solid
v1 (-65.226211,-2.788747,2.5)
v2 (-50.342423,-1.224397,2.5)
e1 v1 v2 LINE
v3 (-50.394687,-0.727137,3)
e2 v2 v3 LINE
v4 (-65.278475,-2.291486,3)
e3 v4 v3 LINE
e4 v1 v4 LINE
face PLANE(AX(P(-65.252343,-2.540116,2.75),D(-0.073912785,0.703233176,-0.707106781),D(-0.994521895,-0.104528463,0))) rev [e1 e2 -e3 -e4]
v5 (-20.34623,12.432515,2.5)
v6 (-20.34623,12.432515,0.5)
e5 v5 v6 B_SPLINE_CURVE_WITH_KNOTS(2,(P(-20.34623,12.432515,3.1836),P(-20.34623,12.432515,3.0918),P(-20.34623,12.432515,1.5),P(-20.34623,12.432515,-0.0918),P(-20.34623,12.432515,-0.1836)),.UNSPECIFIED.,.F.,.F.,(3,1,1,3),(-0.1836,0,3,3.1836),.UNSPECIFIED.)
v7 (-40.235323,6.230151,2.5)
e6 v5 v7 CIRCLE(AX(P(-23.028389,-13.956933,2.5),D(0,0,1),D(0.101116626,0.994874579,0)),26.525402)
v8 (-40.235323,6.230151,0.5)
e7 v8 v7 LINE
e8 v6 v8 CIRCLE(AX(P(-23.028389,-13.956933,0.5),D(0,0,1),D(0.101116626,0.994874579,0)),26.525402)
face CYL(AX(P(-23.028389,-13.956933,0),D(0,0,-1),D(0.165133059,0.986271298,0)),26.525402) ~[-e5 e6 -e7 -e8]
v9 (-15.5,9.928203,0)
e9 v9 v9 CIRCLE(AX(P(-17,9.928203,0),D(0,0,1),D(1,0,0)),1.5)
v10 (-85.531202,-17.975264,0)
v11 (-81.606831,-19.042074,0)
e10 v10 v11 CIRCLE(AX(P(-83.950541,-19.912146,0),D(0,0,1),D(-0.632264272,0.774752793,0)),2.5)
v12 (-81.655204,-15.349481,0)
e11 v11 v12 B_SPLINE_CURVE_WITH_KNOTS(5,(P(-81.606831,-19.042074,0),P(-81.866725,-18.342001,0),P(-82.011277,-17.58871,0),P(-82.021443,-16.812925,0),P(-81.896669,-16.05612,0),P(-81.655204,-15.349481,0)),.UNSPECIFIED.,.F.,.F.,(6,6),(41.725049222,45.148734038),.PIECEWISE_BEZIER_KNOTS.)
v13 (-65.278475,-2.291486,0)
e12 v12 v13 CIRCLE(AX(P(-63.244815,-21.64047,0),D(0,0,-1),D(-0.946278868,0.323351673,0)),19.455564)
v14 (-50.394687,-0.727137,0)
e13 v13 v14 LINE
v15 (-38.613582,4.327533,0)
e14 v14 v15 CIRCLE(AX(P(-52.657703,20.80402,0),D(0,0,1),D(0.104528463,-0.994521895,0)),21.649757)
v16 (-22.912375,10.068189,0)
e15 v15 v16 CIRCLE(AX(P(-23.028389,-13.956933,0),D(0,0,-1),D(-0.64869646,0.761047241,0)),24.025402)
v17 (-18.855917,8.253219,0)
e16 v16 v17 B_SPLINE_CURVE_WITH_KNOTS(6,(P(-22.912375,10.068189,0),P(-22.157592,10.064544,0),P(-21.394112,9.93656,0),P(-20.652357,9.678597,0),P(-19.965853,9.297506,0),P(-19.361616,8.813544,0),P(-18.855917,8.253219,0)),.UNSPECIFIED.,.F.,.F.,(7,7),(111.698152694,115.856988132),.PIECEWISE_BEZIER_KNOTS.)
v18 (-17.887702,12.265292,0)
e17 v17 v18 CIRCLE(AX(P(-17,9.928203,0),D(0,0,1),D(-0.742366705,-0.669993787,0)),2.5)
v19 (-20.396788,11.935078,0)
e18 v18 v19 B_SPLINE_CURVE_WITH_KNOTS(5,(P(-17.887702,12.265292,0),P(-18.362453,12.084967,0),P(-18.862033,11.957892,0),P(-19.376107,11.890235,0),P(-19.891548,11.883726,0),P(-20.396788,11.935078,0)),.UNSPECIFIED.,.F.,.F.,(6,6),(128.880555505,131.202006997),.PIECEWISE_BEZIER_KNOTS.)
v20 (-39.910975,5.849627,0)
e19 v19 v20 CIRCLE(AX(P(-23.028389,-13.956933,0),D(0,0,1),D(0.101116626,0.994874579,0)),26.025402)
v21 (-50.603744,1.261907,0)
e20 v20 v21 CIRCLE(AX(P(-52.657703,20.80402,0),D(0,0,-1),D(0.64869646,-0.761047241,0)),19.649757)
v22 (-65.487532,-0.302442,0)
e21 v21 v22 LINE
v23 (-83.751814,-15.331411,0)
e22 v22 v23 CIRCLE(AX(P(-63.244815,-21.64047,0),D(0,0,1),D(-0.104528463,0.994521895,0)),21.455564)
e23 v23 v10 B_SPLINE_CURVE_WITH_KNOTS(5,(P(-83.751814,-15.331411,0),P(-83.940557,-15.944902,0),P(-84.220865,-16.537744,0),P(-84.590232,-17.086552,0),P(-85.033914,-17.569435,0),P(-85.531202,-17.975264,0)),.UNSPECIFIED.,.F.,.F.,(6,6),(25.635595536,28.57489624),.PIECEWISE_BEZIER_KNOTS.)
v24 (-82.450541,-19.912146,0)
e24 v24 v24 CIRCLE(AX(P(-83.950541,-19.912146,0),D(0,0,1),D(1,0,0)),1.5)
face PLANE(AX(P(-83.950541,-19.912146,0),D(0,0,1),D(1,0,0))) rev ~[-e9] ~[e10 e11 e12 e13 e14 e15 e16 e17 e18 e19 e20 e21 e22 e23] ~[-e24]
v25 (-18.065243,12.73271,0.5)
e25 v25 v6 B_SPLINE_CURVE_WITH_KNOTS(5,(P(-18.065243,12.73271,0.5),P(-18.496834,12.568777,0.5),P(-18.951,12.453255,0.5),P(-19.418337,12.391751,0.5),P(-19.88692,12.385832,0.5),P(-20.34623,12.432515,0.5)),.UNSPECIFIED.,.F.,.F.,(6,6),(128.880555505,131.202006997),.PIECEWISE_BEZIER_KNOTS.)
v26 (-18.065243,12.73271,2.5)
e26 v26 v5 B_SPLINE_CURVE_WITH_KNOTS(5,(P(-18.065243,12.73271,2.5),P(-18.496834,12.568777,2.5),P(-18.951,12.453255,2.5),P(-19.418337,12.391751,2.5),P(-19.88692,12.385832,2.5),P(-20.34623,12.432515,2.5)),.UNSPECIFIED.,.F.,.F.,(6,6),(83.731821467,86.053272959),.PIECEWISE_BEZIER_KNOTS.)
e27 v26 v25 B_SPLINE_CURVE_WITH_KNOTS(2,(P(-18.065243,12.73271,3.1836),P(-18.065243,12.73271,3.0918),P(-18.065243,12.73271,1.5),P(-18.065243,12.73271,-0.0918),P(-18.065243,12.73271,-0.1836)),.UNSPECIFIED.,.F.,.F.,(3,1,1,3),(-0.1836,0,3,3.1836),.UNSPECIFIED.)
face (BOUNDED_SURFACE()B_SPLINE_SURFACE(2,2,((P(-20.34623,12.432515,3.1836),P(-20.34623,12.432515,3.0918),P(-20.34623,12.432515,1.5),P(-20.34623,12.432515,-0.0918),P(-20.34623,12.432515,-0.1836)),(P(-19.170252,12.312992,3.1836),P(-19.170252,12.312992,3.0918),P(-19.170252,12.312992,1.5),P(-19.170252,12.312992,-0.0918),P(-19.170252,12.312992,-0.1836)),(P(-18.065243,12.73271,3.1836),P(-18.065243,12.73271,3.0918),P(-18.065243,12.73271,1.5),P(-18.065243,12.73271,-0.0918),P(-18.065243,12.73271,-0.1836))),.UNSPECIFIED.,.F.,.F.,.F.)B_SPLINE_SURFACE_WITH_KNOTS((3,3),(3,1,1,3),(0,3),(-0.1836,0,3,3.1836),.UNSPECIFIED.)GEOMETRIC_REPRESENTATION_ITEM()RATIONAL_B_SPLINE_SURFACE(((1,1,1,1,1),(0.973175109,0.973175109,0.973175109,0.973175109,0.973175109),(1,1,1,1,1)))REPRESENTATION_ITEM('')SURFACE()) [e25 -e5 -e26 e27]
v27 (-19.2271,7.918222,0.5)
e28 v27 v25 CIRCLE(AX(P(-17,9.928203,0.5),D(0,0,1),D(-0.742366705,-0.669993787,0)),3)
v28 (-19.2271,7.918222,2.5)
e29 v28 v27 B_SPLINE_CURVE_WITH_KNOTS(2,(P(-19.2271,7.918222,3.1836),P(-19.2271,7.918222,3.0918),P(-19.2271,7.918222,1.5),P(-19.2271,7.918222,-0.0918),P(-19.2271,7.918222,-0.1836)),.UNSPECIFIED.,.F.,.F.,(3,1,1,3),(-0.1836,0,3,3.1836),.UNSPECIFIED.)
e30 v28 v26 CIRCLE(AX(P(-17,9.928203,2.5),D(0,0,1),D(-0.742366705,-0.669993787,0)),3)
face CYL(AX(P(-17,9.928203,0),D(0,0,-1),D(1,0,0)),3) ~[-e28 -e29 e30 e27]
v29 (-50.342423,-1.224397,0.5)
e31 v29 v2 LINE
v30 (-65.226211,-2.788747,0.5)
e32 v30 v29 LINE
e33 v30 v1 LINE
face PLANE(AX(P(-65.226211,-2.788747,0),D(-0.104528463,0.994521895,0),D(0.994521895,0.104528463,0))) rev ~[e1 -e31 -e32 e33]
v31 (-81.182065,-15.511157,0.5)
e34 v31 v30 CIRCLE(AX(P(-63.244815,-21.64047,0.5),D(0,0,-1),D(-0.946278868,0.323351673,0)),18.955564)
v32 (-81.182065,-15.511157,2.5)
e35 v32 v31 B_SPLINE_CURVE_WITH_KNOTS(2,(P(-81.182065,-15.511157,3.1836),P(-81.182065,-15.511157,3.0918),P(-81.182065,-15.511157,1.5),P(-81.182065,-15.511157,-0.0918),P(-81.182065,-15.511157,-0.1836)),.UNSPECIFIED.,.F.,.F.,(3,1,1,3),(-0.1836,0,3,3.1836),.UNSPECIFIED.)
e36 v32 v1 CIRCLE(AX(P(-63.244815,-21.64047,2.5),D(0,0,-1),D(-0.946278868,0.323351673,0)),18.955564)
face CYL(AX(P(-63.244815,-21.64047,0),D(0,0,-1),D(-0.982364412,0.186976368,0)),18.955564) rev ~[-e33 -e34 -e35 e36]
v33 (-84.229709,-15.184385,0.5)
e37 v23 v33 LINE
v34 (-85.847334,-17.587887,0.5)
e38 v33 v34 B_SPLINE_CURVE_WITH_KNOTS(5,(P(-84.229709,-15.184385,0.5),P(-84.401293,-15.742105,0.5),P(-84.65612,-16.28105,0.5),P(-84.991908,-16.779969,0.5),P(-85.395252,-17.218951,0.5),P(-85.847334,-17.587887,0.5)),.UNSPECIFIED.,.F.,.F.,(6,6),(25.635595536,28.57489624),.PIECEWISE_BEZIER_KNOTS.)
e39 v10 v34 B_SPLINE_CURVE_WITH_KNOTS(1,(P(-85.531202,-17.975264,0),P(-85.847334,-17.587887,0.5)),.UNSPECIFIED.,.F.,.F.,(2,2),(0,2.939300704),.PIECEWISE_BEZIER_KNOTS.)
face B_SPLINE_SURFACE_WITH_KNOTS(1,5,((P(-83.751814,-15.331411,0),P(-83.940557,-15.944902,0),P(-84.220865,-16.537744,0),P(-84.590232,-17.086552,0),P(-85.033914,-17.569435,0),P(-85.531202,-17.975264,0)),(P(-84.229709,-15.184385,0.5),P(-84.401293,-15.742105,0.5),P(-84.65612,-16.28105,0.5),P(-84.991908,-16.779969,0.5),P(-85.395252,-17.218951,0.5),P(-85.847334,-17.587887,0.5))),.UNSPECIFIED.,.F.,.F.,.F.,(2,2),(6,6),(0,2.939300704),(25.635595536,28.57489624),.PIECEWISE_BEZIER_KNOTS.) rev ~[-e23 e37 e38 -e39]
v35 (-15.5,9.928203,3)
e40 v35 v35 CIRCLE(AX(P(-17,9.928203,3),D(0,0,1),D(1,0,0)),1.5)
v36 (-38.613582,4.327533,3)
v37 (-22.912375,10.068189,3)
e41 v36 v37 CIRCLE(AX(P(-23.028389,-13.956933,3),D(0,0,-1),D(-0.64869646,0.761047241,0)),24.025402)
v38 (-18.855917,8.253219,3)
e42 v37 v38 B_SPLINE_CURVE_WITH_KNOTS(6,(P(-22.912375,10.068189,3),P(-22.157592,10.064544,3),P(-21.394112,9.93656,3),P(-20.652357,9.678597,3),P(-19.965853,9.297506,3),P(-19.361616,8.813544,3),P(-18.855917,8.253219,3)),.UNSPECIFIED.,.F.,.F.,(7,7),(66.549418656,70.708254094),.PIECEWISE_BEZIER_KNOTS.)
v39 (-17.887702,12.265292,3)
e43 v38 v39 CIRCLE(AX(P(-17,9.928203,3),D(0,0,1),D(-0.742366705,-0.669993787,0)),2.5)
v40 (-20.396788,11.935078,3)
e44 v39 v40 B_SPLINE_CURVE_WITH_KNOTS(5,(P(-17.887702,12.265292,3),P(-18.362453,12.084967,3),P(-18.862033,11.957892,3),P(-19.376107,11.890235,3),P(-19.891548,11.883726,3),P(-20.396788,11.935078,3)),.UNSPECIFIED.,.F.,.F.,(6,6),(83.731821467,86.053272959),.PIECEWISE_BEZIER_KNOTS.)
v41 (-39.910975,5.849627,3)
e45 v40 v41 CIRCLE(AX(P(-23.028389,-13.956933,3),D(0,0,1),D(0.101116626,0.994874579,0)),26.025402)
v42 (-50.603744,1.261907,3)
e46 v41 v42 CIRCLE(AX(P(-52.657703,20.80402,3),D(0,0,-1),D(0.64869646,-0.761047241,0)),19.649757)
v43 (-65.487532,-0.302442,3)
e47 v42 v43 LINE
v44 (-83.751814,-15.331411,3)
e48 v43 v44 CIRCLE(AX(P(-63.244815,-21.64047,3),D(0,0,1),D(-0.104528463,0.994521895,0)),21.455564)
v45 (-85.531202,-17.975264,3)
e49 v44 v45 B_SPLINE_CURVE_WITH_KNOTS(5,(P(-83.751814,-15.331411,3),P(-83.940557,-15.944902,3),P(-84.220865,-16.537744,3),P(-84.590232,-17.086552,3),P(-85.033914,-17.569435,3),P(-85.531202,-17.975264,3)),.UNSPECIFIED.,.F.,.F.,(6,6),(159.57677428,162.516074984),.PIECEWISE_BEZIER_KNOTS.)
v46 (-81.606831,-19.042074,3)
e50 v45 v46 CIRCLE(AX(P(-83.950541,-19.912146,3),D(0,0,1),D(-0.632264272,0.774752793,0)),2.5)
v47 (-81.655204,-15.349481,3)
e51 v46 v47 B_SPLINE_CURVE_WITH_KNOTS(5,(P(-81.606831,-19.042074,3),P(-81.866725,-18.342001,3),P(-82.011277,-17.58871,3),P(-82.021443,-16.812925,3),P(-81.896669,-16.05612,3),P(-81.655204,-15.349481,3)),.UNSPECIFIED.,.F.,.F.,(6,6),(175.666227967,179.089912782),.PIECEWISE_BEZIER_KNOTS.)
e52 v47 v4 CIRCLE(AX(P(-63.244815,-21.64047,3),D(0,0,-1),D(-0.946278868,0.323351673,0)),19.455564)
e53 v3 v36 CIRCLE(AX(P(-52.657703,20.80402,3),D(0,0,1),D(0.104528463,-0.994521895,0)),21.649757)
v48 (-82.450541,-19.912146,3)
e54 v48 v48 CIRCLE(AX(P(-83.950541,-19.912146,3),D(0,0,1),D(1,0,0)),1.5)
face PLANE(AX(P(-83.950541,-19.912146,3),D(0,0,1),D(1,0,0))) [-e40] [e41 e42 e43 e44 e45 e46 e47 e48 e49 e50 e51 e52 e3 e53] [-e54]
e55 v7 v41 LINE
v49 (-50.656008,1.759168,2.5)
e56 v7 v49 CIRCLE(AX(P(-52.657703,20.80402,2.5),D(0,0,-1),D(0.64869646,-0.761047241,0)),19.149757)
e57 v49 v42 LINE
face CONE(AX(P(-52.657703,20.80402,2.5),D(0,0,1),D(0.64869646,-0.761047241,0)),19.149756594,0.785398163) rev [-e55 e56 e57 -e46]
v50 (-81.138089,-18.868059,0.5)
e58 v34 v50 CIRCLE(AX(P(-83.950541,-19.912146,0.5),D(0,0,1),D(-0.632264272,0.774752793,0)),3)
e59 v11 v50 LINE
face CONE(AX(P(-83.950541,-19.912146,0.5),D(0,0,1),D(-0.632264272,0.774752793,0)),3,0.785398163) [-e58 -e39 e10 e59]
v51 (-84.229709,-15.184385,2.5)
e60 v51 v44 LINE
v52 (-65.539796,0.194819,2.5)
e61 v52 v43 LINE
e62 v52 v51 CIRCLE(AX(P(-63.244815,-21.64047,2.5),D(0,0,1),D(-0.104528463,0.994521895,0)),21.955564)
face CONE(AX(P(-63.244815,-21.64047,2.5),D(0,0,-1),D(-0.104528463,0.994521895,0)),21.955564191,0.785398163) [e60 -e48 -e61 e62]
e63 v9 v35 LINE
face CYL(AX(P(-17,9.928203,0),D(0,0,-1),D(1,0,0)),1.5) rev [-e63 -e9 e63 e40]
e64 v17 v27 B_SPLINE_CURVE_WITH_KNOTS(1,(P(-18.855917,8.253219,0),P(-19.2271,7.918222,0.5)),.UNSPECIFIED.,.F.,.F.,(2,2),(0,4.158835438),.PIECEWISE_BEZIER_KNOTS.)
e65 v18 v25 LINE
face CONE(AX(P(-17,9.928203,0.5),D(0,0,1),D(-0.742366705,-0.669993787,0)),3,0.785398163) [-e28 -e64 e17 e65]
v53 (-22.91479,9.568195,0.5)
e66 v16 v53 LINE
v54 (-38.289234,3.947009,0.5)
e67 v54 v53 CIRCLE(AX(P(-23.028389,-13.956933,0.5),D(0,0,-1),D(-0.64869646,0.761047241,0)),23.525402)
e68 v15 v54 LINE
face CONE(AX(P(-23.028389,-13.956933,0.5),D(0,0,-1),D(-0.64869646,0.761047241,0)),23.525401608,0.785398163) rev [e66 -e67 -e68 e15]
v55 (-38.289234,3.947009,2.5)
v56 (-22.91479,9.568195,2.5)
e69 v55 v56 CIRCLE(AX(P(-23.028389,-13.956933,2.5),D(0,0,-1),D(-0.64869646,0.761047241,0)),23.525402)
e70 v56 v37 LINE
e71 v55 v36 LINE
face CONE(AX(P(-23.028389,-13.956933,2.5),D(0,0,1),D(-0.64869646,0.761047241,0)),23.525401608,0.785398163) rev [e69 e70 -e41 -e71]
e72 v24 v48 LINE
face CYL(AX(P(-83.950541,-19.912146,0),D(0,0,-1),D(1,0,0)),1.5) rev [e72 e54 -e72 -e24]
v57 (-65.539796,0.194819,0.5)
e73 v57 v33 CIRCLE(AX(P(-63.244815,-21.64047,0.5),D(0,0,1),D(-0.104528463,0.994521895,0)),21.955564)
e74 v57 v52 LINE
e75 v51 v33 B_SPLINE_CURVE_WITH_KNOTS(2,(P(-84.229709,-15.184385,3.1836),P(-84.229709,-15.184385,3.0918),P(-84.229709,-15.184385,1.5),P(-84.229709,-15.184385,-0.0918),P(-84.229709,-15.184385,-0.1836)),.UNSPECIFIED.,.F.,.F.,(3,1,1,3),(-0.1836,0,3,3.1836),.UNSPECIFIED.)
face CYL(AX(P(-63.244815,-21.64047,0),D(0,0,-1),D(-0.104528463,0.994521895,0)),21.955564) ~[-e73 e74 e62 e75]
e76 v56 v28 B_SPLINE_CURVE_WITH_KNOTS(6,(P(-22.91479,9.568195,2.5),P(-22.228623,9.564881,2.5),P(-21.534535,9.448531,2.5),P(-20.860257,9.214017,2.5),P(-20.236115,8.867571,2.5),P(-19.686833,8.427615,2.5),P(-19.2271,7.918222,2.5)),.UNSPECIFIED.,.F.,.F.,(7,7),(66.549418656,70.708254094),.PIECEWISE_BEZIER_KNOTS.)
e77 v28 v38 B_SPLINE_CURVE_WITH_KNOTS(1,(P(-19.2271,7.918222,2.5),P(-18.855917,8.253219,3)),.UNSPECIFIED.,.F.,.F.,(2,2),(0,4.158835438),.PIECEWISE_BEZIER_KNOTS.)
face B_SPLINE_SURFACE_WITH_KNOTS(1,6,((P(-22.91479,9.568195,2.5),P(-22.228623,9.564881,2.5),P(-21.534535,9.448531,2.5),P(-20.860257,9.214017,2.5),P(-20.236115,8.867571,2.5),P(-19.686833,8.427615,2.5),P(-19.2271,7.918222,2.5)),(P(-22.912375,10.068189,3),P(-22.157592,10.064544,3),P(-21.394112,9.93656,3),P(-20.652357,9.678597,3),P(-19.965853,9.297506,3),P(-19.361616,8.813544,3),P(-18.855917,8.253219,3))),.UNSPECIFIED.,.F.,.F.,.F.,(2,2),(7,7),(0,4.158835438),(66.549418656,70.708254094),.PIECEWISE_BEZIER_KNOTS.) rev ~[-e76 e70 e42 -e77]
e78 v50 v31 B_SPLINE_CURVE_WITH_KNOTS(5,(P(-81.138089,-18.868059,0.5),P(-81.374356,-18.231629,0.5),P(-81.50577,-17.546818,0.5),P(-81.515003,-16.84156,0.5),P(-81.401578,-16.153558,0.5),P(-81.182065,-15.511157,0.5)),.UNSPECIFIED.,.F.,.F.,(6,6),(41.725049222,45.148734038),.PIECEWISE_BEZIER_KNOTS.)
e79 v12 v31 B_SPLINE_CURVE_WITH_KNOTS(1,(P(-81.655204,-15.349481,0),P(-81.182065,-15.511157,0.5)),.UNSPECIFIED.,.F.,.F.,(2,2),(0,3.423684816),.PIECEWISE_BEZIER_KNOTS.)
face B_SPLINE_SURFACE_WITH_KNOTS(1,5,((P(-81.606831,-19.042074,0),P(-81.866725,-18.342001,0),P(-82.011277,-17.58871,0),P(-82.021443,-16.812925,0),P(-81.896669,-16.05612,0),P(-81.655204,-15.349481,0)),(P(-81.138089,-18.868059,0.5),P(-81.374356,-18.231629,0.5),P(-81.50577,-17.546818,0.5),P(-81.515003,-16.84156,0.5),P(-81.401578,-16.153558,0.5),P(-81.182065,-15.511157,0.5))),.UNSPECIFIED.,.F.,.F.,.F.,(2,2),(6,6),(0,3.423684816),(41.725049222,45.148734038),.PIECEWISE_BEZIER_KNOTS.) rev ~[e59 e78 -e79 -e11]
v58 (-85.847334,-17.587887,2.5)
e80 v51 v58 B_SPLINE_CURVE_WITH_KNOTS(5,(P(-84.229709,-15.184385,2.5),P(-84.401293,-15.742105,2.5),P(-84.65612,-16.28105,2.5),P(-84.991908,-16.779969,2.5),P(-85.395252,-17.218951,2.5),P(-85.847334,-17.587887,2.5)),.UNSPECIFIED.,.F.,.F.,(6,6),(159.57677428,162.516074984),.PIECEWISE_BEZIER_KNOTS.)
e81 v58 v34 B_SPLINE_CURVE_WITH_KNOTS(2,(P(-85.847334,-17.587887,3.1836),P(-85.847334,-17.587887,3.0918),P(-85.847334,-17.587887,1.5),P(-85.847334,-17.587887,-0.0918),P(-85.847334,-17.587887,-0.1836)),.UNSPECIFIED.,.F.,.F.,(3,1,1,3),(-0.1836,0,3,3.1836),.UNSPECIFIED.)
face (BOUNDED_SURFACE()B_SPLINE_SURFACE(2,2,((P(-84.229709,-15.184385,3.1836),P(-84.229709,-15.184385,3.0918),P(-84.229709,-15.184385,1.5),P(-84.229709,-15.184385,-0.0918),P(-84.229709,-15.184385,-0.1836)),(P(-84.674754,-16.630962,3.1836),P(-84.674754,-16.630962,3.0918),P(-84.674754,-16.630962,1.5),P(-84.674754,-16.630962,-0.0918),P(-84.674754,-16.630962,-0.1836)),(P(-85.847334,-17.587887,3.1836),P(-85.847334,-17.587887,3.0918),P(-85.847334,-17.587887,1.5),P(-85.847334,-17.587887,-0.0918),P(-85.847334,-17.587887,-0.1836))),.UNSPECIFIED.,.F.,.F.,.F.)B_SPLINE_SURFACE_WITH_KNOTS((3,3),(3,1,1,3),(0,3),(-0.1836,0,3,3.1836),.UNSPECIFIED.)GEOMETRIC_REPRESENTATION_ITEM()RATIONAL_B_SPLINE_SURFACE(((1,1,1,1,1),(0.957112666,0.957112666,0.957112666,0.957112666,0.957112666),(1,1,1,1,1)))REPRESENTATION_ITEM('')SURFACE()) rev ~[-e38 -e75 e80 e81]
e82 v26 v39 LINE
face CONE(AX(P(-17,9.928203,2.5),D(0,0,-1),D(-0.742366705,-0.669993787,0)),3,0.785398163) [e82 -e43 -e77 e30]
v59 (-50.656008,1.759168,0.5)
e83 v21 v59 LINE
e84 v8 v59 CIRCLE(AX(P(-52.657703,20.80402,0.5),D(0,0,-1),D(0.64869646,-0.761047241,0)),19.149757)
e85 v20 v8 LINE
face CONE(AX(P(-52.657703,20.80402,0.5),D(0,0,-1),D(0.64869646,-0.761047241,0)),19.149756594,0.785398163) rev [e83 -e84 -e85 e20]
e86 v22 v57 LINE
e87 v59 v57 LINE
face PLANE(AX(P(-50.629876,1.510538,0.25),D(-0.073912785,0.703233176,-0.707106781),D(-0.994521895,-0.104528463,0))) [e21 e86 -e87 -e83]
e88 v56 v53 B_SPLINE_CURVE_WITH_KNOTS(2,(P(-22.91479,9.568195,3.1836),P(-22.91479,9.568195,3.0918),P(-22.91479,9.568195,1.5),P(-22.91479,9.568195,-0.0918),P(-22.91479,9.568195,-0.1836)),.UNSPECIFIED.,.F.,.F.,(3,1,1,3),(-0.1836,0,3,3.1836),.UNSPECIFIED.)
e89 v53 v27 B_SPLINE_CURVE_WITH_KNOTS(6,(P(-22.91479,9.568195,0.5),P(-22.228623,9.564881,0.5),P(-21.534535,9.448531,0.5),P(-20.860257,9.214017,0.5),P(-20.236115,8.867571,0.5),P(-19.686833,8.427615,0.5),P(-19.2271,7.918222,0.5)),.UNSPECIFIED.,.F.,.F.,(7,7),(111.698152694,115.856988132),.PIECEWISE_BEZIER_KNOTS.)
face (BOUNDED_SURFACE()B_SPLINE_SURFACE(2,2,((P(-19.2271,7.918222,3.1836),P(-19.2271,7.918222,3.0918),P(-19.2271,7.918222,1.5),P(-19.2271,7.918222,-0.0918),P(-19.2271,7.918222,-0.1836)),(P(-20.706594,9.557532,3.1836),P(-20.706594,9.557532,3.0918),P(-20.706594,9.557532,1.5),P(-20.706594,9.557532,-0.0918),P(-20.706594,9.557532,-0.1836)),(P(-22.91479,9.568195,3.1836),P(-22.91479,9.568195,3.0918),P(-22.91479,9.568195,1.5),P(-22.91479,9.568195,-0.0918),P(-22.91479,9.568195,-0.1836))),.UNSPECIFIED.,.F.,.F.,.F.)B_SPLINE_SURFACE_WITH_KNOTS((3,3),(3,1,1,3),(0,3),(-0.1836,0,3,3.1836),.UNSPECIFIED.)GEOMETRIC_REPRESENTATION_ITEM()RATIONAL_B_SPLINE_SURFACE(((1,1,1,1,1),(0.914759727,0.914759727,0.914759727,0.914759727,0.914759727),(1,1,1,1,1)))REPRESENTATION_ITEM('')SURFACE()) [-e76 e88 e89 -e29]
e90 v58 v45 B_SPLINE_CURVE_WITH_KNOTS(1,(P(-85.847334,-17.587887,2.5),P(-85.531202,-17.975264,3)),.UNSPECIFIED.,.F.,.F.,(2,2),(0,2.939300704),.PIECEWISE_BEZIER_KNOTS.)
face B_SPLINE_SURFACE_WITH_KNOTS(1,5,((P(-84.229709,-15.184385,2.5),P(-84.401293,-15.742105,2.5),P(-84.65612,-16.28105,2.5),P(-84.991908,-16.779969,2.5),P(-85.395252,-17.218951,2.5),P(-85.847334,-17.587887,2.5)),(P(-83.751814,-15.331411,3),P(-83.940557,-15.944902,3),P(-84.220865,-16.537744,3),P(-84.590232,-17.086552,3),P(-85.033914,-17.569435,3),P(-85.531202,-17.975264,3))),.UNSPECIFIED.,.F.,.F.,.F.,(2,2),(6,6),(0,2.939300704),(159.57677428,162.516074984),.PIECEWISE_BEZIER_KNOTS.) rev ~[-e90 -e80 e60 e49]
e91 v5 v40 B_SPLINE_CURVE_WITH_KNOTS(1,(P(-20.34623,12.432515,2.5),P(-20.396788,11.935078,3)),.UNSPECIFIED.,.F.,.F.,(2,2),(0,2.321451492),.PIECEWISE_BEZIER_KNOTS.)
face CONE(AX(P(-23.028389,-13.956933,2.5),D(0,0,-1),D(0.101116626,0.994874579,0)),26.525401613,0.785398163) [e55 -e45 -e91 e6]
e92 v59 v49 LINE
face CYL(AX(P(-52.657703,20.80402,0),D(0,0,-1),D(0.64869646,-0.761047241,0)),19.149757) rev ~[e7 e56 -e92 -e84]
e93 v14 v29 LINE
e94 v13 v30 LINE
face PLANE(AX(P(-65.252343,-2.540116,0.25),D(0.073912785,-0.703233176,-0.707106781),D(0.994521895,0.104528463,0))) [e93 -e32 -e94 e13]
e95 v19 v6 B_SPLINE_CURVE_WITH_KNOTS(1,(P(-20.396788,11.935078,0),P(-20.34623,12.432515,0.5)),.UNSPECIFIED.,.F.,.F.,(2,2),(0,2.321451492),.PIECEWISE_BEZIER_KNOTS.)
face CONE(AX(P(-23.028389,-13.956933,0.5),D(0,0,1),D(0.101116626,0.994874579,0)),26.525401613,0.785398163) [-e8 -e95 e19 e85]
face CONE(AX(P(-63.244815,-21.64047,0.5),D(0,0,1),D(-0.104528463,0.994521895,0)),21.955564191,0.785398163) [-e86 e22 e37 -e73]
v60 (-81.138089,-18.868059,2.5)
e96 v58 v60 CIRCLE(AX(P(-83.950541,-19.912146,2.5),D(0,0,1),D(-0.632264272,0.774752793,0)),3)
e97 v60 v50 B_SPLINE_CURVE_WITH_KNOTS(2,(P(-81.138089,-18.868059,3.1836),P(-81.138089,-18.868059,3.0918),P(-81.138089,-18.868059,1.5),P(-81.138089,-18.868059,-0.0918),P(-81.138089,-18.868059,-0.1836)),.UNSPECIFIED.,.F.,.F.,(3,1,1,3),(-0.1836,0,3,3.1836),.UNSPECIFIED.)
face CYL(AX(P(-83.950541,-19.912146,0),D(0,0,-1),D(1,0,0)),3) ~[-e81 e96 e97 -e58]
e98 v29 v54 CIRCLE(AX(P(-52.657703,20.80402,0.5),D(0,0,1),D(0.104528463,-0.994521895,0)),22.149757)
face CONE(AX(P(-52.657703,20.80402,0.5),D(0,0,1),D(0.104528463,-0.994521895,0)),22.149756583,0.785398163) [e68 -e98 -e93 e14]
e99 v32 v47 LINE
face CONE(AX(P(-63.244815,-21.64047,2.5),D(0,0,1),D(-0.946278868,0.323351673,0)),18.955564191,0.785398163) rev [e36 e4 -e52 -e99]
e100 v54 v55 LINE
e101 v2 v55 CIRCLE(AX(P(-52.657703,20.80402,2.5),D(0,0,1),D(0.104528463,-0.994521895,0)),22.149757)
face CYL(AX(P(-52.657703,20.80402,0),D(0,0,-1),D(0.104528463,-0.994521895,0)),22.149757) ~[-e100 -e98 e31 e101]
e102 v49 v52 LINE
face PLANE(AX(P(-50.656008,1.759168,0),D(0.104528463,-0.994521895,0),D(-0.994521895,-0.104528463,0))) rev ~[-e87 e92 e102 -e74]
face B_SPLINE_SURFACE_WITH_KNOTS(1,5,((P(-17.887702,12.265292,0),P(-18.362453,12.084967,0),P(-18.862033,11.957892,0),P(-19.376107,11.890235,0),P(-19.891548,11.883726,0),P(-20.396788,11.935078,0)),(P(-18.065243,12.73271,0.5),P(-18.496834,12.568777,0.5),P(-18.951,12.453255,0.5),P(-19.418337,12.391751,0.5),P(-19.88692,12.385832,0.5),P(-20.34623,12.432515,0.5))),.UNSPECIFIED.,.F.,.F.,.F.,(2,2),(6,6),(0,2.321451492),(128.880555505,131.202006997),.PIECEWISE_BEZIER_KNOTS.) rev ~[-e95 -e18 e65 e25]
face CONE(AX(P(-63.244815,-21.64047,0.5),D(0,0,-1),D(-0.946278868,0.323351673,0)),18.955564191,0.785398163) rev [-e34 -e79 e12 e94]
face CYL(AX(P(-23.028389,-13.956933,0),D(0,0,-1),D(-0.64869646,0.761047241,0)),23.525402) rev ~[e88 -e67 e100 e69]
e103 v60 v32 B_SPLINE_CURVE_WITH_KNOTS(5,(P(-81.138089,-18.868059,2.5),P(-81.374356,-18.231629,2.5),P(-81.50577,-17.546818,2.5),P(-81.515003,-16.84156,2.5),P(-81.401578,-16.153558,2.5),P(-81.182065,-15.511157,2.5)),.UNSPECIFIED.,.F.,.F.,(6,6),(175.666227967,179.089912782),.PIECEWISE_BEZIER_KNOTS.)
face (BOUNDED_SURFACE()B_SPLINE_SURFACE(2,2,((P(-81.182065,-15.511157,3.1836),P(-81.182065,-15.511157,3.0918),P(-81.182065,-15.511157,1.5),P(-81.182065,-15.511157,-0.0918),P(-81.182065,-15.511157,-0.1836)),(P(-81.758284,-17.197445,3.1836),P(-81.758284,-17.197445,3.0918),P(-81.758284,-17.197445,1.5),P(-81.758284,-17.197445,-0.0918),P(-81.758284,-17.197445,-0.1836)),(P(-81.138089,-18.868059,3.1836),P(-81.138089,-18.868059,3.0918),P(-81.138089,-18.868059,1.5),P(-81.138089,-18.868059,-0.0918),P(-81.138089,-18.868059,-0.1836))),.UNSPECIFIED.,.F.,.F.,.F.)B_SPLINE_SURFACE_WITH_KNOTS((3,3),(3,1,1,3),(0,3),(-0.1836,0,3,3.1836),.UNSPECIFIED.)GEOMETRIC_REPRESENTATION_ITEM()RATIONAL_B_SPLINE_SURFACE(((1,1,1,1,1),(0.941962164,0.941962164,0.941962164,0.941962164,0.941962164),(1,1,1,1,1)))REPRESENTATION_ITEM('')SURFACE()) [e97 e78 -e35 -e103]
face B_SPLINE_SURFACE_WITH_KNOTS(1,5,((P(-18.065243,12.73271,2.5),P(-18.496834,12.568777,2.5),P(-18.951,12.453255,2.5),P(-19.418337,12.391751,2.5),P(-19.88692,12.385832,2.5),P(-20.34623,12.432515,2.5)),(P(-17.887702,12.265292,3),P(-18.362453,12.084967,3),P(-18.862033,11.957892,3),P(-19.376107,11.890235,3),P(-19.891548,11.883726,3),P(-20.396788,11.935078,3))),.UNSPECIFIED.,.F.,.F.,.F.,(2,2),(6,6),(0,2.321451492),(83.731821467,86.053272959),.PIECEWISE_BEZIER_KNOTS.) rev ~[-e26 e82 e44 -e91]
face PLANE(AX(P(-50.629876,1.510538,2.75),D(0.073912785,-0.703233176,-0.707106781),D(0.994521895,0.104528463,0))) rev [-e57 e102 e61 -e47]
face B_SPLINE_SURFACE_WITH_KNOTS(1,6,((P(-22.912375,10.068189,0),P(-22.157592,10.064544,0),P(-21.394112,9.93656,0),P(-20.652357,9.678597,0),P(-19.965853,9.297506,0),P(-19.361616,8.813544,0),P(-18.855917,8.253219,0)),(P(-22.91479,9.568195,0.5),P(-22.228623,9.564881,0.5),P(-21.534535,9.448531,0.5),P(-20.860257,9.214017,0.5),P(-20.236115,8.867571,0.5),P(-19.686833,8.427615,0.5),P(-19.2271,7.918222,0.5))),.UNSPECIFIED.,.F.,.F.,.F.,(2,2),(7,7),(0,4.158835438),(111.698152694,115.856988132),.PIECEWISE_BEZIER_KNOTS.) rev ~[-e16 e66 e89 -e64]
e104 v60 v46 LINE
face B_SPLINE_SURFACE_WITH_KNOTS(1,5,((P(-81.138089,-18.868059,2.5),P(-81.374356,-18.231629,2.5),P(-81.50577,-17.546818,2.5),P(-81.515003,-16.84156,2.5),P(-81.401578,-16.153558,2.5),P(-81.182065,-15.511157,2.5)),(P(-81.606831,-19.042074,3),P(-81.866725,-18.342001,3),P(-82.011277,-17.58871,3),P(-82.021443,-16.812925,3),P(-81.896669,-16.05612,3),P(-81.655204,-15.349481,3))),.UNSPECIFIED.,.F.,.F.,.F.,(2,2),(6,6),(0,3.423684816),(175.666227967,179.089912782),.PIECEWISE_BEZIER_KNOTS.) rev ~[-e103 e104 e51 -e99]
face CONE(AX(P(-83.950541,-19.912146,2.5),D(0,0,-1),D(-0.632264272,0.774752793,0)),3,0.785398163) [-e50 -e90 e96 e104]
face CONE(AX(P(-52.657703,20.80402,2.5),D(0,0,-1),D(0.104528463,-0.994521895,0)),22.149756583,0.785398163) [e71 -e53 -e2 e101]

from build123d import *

# Parameters (mm, degrees)
SKETCH1_R             = 3
SKETCH1_R_2           = 1.5
BOSS_EXTRUDE1_DEPTH   = 3
BOSS_EXTRUDE1_2_DEPTH = 3
EXTRUDE_THIN1_DEPTH   = 3
FILLET1_R             = 5
CHAMFER1_SIZE         = 0.5


with BuildPart() as part:
    # Sketch1 → Boss-Extrude1 (new body)
    with BuildSketch(Plane.XY):
        with Locations((-83.950540957, -19.912145865)):
            Circle(SKETCH1_R)
        with Locations((-83.950540957, -19.912145865)):
            Circle(SKETCH1_R_2, mode=Mode.SUBTRACT)
    extrude(amount=BOSS_EXTRUDE1_DEPTH)



with BuildPart() as body_2:
    # Sketch1 → Boss-Extrude1 2 (new body)
    with BuildSketch(Plane.XY):
        with Locations((-17, 9.92820323)):
            Circle(SKETCH1_R)
        with Locations((-17, 9.92820323)):
            Circle(SKETCH1_R_2, mode=Mode.SUBTRACT)
    extrude(amount=BOSS_EXTRUDE1_2_DEPTH)


with BuildPart() as part_1:
    add(part.part)

    add(body_2.part)  # Extrude-Thin1 merges body 2
    # Sketch2 → Extrude-Thin1 (add)
    with BuildSketch(Plane.XY):
        with BuildLine():
            ThreePointArc((-81.866086482, -18.096227729), (-76.0782564, -7.689979577), (-65.226210809, -2.788746653))
            Line((-65.226210809, -2.788746653), (-50.342422521, -1.224397467))
            ThreePointArc((-50.342422521, -1.224397467), (-43.92427654, 0.448702034), (-38.289233854, 3.947009295))
            ThreePointArc((-38.289233854, 3.947009295), (-29.303097517, 8.716235486), (-19.143567587, 9.245495681))
            Line((-19.143567587, 9.245495681), (-18.648168411, 12.204309575))
            ThreePointArc((-18.648168411, 12.204309575), (-30.10325921, 11.607557202), (-40.235323233, 6.230151019))
            ThreePointArc((-40.235323233, 6.230151019), (-45.107146333, 3.205660332), (-50.65600791, 1.759168219))
            Line((-50.65600791, 1.759168219), (-65.539796199, 0.194819033))
            ThreePointArc((-65.539796199, 0.194819033), (-78.10933943, -5.482106907), (-84.813179718, -17.535298624))
            Line((-84.813179718, -17.535298624), (-81.866086482, -18.096227729))
        make_face()
    extrude(amount=EXTRUDE_THIN1_DEPTH)

    # Fillet1
    fillet1_edges = [part_1.edges().sort_by_distance(p)[0] for p in [
        (-84.706300556, -17.008901571, 1.5),
        (-81.809477217, -17.810754407, 1.5),
        (-18.904716374, 12.245972748, 1.5),
        (-19.94680617, 9.365767994, 1.5),
    ]]
    fillet(fillet1_edges, radius=FILLET1_R)

    # Chamfer1
    chamfer1_edges = [part_1.edges().sort_by_distance(p)[0] for p in [
        (-77.195374918, -4.686748809, 0),
        (-75.062303692, -6.819526639, 3),
        (-57.784316665, -2.00657206, 3),
        (-43.92427654, 0.448702034, 3),
        (-45.107146333, 3.205660332, 0),
        (-58.097902055, 0.976993626, 0),
        (-45.107146333, 3.205660332, 3),
        (-58.097902055, 0.976993626, 3),
        (-77.195374918, -4.686748809, 3),
        (-75.062303692, -6.819526639, 0),
        (-43.92427654, 0.448702034, 0),
        (-57.784316665, -2.00657206, 0),
        (-84.737508384, -22.807086671, 0),
        (-84.737508384, -22.807086671, 3),
        (-31.106705209, 8.137983689, 0),
        (-31.106705209, 8.137983689, 3),
        (-14.083717416, 9.224430618, 0),
        (-14.083717416, 9.224430618, 3),
        (-30.92519874, 11.365731626, 0),
        (-30.92519874, 11.365731626, 3),
        (-84.860623121, -16.505866782, 3),
        (-84.860623121, -16.505866782, 0),
        (-81.450241332, -17.19340927, 3),
        (-81.450241332, -17.19340927, 0),
        (-20.896879636, 9.132244106, 3),
        (-20.896879636, 9.132244106, 0),
        (-19.18823543, 12.449634759, 3),
        (-19.18823543, 12.449634759, 0),
    ]]
    chamfer(chamfer1_edges, length=CHAMFER1_SIZE)


solid = part_1.part
